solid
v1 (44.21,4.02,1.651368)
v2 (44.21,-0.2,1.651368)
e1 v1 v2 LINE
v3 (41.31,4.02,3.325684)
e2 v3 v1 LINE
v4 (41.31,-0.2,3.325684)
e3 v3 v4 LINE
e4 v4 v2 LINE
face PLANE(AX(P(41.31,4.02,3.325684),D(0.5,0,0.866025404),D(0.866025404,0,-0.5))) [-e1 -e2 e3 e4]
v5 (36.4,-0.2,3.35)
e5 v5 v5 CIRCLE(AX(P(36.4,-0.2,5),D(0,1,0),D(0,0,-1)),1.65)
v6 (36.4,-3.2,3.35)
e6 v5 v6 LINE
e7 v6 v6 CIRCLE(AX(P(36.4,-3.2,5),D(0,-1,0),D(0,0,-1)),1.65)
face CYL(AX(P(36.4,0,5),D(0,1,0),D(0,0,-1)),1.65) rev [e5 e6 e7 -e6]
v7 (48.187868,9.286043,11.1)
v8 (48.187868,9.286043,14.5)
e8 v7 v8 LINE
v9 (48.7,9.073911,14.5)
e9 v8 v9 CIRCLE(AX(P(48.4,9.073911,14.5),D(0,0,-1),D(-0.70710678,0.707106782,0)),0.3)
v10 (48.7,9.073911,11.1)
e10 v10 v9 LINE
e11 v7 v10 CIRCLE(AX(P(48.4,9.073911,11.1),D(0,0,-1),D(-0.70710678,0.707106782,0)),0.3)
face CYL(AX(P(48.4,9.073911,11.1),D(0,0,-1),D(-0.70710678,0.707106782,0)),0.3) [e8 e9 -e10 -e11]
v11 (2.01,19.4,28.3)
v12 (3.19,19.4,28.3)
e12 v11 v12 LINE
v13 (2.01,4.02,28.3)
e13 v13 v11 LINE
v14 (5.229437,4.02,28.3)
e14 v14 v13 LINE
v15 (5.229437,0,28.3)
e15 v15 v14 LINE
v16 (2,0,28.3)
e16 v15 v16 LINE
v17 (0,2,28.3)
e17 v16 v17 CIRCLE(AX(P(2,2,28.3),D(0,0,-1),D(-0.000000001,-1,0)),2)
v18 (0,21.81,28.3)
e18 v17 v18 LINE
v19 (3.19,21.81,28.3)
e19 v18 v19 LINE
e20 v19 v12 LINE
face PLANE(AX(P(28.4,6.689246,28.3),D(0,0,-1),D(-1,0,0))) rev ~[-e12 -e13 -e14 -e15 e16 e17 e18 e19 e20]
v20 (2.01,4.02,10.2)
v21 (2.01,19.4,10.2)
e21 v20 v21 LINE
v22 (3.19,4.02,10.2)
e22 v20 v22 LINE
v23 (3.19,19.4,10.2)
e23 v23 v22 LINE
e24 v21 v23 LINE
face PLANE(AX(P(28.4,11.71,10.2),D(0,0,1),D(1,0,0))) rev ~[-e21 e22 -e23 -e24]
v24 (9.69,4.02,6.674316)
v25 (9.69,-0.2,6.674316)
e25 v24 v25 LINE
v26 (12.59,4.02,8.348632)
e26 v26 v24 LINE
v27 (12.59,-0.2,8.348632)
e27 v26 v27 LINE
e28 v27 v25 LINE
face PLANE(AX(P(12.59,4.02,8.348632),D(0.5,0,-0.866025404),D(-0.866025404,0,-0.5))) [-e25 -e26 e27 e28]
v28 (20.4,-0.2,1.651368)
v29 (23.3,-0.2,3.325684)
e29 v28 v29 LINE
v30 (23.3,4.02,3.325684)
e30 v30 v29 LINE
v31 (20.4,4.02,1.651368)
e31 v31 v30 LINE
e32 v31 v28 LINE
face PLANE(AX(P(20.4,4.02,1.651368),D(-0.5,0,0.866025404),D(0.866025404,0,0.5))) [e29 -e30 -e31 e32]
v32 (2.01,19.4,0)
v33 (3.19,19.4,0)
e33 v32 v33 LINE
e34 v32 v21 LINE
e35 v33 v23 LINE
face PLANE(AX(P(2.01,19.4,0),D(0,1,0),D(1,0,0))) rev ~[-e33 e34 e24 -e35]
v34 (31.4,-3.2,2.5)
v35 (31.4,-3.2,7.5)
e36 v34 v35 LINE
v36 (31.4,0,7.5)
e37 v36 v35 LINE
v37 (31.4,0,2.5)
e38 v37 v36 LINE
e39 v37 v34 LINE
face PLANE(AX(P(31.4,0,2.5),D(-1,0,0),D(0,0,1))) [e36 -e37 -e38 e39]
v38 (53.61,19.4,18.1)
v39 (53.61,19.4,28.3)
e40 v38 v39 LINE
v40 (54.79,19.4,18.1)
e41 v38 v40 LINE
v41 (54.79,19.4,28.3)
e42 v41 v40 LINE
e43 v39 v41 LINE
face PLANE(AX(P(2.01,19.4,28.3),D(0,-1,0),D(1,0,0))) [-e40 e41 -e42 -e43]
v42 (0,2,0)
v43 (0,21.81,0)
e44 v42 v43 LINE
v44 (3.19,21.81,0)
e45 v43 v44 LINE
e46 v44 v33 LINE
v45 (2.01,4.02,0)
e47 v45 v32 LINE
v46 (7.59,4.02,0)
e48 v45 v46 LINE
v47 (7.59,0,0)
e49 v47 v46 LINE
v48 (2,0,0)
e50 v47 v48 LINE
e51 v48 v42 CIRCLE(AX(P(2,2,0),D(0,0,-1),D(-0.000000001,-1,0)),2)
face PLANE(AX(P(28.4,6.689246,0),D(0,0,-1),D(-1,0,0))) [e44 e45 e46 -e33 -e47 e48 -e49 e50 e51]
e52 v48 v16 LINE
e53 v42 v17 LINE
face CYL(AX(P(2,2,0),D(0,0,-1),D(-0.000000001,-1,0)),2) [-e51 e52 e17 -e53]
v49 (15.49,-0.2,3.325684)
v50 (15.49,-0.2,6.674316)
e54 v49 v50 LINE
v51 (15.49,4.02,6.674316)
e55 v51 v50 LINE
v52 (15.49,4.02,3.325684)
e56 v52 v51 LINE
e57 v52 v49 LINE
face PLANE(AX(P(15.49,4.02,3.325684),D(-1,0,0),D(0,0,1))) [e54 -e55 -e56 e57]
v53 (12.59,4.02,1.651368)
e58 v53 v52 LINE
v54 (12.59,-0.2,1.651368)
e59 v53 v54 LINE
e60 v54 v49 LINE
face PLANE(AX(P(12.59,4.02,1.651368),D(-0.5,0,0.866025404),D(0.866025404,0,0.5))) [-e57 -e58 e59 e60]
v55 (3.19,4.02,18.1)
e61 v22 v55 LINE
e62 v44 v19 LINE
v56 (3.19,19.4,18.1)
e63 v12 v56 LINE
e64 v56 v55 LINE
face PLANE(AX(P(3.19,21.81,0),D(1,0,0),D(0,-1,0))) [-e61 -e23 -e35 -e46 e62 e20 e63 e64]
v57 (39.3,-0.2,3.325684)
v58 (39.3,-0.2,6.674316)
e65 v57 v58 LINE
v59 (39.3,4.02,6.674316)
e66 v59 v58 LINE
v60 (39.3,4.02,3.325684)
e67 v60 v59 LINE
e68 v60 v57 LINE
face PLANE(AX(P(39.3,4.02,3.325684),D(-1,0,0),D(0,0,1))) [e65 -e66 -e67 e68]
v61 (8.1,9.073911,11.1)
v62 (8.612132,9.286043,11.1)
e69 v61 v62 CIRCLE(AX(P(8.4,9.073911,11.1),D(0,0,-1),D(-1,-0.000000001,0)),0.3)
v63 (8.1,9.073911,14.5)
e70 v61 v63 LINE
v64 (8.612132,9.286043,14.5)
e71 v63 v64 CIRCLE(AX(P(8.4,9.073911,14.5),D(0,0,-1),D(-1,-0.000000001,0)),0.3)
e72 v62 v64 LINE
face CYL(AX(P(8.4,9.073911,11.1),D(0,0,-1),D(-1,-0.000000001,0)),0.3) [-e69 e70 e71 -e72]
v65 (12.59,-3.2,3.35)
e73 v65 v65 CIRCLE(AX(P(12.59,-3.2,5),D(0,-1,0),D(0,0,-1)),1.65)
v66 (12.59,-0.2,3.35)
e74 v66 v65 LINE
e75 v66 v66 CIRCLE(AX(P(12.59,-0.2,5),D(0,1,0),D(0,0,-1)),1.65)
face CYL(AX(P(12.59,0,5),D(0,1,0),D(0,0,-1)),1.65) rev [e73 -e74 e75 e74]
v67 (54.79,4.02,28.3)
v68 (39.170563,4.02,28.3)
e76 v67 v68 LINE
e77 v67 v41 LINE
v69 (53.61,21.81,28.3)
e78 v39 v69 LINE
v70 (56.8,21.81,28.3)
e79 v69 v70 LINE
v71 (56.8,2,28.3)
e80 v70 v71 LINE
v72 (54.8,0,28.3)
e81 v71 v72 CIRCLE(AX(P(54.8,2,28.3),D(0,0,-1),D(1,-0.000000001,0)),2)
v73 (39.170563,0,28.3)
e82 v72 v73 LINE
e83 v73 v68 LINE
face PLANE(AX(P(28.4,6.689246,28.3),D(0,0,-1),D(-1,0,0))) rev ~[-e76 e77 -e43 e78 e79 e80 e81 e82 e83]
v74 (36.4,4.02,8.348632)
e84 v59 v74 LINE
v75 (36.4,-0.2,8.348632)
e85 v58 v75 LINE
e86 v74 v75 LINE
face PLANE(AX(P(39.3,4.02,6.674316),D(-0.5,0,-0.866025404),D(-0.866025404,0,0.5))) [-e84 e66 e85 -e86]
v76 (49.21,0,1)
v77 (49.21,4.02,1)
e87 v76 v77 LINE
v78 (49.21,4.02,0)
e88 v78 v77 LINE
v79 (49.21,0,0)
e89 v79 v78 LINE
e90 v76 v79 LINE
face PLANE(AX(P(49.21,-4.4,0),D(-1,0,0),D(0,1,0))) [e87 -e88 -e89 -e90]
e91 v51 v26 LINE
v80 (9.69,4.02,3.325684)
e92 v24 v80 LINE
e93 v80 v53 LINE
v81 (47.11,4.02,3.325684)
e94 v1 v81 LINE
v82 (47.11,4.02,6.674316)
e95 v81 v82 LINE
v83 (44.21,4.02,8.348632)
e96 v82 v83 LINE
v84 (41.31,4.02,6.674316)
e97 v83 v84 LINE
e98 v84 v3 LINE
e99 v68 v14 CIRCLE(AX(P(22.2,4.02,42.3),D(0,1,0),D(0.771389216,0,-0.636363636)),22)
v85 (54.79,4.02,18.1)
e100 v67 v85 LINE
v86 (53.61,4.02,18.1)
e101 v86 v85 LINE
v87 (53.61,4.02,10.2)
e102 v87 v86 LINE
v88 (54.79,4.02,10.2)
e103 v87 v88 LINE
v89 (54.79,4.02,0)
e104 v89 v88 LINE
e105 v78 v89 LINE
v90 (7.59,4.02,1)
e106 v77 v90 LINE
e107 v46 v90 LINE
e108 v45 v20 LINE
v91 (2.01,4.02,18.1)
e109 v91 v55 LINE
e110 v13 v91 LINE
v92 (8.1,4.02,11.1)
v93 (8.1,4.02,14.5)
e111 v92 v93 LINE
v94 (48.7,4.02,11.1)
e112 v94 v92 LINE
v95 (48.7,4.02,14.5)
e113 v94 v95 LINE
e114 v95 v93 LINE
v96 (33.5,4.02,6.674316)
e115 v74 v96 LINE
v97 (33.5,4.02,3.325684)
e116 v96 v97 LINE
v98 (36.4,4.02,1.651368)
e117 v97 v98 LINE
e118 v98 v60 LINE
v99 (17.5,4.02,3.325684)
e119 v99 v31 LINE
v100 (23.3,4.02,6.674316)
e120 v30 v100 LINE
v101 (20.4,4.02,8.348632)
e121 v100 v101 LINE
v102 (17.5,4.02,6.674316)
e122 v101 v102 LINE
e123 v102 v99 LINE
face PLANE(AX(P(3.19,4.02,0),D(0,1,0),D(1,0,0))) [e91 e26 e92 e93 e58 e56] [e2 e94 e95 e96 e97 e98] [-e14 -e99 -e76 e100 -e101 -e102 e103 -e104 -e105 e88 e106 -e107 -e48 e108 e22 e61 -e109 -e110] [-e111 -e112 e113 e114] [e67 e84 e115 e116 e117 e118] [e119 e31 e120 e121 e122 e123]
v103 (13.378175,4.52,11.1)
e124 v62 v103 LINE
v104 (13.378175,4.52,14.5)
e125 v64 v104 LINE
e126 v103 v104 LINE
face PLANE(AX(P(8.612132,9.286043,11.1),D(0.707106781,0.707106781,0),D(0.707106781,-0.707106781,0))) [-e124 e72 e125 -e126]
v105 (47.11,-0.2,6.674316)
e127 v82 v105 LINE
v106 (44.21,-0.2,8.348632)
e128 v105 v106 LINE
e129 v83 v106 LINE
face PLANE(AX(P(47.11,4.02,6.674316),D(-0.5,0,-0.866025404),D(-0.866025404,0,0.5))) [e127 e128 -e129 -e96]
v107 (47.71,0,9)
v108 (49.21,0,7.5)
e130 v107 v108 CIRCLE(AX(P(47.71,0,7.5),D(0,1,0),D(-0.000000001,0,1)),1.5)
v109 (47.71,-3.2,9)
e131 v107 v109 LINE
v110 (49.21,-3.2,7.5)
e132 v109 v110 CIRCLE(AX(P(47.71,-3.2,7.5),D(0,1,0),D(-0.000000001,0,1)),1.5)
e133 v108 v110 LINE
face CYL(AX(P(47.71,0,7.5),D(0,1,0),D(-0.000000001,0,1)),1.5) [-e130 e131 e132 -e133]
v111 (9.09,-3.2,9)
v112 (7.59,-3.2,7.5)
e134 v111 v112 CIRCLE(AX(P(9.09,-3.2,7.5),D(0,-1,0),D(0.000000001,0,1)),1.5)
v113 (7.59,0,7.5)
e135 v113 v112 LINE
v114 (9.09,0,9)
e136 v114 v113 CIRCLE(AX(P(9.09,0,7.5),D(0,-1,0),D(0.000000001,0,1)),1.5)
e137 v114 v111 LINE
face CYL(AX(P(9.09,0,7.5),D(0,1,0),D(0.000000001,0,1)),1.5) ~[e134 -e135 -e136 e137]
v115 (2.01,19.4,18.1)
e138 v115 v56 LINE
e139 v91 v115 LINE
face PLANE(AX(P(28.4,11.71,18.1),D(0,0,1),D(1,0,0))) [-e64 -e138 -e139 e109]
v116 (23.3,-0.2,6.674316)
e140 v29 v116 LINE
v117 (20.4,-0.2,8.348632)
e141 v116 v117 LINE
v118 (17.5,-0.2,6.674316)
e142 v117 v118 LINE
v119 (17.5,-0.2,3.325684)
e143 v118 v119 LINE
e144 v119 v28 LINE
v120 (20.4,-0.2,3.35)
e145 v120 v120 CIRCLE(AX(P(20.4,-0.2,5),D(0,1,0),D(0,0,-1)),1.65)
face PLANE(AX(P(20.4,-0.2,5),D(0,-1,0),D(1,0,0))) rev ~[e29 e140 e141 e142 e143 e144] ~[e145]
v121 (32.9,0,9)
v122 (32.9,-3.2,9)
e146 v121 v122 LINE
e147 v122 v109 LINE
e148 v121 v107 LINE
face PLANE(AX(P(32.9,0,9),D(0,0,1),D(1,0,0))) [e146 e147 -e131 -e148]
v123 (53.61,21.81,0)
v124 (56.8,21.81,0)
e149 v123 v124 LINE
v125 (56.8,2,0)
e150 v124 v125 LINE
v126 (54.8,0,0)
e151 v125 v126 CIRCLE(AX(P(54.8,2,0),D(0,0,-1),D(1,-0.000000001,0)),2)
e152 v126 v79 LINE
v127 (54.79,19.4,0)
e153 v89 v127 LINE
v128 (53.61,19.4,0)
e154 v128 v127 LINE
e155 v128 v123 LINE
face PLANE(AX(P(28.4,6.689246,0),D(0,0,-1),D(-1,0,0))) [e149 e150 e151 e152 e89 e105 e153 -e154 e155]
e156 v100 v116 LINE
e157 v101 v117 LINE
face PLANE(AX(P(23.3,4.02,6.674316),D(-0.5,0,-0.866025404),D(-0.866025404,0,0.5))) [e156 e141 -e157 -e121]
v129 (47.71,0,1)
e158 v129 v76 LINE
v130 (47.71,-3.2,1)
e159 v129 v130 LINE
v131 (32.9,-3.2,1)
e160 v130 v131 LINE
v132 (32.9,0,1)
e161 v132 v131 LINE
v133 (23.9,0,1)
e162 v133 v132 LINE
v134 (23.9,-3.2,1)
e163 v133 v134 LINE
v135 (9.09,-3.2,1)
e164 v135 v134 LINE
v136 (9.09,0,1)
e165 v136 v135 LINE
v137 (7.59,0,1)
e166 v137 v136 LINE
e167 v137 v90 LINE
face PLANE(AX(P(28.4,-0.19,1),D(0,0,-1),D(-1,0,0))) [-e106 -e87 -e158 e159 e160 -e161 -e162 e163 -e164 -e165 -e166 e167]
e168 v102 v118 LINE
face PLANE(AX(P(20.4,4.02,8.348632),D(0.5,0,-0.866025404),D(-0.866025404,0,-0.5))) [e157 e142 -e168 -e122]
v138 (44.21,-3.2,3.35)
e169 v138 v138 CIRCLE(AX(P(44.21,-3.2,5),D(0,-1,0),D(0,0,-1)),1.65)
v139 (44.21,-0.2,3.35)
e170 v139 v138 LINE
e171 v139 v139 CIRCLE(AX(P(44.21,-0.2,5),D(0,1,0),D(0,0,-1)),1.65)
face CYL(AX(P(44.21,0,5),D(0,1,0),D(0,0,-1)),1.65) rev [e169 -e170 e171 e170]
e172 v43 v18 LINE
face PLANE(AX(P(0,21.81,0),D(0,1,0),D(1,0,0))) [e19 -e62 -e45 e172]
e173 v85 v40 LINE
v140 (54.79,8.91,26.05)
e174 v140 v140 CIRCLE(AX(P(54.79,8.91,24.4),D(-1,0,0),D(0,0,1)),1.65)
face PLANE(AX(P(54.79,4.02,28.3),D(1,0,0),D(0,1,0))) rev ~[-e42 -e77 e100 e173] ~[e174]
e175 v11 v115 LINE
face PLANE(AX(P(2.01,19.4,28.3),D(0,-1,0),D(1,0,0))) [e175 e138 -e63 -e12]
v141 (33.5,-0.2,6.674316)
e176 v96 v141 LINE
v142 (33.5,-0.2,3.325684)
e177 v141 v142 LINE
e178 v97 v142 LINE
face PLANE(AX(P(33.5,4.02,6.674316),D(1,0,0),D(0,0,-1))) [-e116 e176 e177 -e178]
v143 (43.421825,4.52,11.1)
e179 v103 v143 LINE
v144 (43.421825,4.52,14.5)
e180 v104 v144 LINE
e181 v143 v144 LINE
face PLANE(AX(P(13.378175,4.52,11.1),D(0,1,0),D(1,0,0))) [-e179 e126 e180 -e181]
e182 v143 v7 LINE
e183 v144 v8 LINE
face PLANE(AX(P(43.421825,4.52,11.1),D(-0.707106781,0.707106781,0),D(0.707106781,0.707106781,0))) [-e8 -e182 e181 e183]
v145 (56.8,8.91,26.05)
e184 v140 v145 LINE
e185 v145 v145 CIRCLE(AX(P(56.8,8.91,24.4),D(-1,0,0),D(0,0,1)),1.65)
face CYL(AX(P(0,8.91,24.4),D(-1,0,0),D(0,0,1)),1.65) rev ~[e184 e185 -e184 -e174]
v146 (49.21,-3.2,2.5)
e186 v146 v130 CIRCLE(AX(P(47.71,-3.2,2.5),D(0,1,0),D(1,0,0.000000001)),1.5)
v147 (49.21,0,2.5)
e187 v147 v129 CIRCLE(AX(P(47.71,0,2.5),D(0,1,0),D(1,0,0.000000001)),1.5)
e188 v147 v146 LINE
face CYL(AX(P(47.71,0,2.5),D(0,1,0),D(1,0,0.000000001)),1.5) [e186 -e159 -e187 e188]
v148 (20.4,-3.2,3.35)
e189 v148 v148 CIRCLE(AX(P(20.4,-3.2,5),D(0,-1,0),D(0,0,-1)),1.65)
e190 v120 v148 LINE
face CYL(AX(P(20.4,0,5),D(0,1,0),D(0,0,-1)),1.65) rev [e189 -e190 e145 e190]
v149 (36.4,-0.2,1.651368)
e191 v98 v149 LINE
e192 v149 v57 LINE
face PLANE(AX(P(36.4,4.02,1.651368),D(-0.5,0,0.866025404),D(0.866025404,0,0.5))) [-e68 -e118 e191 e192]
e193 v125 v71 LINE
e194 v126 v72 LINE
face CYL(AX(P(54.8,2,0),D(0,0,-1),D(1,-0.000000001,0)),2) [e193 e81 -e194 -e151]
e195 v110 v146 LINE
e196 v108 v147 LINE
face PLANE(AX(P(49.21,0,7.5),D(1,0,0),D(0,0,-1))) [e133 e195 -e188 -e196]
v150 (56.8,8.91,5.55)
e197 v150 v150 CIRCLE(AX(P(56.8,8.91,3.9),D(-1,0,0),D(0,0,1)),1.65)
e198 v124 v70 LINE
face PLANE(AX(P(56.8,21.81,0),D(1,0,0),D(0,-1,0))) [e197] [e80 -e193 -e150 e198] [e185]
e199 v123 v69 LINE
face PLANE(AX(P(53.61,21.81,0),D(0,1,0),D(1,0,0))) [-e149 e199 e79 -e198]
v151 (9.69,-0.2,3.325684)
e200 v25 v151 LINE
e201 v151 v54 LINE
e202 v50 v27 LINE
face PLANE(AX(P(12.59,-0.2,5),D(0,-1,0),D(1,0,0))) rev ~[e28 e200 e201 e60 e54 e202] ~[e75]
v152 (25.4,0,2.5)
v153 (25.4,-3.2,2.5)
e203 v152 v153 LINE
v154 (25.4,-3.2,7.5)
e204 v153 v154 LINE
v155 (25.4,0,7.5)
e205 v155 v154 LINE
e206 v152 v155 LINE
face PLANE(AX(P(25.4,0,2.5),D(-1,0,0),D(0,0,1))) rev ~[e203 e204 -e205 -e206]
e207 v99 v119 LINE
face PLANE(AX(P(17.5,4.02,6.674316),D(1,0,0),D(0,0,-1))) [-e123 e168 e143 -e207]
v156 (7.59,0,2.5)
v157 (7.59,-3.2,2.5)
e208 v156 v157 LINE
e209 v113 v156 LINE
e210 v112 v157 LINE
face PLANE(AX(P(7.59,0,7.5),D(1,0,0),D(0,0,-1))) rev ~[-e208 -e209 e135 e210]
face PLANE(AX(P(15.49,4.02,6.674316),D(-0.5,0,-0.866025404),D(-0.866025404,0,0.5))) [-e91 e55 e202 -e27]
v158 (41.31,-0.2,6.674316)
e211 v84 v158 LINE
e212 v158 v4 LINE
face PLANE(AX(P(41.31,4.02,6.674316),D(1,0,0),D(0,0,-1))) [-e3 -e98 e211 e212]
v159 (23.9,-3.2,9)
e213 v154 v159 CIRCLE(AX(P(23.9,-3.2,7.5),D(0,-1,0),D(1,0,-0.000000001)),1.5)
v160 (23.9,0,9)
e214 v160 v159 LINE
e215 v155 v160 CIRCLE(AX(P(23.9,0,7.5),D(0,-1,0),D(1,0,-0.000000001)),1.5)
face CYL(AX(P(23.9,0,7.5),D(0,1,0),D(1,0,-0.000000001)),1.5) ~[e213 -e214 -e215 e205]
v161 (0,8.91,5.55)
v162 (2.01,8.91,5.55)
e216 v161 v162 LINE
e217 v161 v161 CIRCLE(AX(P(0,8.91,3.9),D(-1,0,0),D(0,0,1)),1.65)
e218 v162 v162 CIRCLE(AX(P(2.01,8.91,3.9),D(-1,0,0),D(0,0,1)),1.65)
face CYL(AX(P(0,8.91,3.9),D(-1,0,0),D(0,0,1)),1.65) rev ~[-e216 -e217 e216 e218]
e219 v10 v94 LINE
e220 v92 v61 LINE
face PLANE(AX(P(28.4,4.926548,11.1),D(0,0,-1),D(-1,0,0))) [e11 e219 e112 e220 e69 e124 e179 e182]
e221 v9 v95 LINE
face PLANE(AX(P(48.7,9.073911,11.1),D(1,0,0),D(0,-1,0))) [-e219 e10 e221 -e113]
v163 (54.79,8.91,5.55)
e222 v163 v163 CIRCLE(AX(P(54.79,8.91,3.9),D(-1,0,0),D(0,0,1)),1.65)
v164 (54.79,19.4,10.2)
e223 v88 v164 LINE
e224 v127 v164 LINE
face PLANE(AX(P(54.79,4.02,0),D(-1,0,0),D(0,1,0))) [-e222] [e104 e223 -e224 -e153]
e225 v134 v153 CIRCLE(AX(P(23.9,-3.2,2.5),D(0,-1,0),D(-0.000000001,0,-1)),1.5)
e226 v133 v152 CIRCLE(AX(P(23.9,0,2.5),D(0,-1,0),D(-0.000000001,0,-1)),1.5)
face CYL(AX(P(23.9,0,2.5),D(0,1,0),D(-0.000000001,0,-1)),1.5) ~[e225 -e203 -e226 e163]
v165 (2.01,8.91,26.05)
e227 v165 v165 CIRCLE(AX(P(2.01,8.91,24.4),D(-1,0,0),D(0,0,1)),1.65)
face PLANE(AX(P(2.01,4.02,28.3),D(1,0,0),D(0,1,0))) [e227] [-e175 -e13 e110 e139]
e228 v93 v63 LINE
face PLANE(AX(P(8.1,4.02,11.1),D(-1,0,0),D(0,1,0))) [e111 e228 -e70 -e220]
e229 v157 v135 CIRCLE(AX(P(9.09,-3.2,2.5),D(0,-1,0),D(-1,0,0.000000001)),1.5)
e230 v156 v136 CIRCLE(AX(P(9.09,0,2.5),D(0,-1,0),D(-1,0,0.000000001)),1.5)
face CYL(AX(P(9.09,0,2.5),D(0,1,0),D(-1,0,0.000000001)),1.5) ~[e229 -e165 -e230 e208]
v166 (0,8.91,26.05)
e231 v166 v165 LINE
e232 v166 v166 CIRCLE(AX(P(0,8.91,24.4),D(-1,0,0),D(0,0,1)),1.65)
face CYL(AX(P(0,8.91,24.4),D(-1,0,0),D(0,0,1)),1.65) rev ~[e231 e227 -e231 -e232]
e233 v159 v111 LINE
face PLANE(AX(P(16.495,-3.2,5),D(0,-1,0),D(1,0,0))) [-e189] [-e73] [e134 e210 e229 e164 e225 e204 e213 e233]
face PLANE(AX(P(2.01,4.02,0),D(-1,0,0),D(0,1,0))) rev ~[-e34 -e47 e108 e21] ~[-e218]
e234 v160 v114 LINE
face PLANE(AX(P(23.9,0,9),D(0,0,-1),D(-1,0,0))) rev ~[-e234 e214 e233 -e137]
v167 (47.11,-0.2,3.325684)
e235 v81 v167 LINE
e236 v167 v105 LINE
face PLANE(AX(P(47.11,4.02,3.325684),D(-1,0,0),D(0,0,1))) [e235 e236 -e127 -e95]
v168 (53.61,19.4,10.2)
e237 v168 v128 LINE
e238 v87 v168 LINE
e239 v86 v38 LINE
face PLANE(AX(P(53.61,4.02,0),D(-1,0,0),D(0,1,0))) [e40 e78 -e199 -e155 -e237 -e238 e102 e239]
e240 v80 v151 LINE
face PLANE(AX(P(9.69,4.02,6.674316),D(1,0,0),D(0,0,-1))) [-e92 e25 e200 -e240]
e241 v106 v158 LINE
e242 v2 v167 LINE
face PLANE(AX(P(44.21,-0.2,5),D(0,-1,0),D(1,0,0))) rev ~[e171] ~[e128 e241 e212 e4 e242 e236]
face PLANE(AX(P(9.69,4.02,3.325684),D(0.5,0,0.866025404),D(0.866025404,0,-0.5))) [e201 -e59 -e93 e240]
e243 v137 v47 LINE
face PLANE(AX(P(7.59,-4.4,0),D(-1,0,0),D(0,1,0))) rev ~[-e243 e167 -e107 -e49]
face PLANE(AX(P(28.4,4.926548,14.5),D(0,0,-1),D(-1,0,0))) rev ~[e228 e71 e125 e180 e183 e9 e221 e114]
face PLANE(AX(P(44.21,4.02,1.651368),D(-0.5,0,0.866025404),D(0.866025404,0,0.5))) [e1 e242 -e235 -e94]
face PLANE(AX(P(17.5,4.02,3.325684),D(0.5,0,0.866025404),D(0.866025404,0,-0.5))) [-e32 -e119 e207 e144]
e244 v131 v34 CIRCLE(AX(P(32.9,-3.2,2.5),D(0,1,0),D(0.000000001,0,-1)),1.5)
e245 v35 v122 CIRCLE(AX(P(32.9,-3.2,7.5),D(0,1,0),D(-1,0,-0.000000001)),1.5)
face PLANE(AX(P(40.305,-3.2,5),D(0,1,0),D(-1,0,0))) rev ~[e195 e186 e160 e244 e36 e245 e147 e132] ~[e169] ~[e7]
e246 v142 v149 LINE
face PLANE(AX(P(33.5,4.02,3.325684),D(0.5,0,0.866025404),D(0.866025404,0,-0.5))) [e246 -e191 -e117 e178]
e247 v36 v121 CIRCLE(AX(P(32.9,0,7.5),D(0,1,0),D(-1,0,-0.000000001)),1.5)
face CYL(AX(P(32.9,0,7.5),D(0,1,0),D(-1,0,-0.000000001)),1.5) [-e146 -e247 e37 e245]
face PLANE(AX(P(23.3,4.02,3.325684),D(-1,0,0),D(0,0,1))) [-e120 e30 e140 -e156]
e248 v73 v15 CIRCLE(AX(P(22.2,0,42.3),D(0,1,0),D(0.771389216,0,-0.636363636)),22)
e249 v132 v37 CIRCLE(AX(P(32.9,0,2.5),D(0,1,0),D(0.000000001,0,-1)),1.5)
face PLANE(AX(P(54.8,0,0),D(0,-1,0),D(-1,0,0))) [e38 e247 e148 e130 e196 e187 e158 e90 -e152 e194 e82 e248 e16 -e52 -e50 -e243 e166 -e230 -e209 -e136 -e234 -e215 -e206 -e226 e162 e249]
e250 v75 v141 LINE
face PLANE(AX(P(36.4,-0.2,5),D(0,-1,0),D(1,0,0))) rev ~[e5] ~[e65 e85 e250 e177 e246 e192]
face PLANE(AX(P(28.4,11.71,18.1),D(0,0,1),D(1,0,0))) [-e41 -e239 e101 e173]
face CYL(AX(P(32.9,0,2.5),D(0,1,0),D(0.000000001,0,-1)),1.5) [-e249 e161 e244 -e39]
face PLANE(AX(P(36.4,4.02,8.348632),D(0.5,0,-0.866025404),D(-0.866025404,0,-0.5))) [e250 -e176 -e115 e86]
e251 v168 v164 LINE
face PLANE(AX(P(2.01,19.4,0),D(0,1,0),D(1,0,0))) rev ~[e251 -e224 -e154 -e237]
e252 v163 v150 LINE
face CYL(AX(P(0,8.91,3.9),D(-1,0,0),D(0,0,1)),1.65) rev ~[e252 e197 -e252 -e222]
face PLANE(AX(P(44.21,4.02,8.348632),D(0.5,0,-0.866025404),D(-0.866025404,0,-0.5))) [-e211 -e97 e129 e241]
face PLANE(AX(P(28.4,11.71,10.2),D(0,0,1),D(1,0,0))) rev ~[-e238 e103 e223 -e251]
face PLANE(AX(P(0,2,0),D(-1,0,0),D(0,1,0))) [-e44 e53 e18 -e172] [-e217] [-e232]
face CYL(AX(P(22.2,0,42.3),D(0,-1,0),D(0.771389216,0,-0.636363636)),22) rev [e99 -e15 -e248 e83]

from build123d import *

# Parameters (mm, degrees)
BOSS_EXTRUDE1_DEPTH = 28.3
SKETCH2_W           = 52.78
SKETCH2_H           = 15.38
CUT_EXTRUDE1_DEPTH  = 10.2
CUT_EXTRUDE2_START  = 28.3
SKETCH2_2_W         = 52.78
SKETCH2_2_H         = 15.38
CUT_EXTRUDE2_DEPTH  = 10.2
CUT_EXTRUDE3_REACH  = 69.103
SKETCH3_R           = 1.65
BOSS_EXTRUDE2_START = 11.1
BOSS_EXTRUDE2_DEPTH = 3.4
CUT_EXTRUDE4_DEPTH  = 4.02
SKETCH6_R           = 1.65
BOSS_EXTRUDE3_DEPTH = 3.2
CUT_EXTRUDE5_DEPTH  = 4.22
SKETCH10_W          = 41.62
SKETCH10_H          = 8.42
CUT_EXTRUDE6_DEPTH  = 1


with BuildPart() as part:
    # Sketch1 → Boss-Extrude1 (new body)
    with BuildSketch(Plane.XY):
        with BuildLine():
            Line((0, 21.81), (3.19, 21.81))
            Line((3.19, 21.81), (3.19, 4.02))
            Line((3.19, 4.02), (53.61, 4.02))
            Line((53.61, 4.02), (53.61, 21.81))
            Line((53.61, 21.81), (56.8, 21.81))
            Line((56.8, 21.81), (56.8, 2))
            ThreePointArc((56.8, 2), (56.214213562, 0.585786438), (54.8, 0))
            Line((54.8, 0), (2, 0))
            ThreePointArc((2, 0), (0.585786438, 0.585786438), (0, 2))
            Line((0, 2), (0, 21.81))
        make_face()
    extrude(amount=BOSS_EXTRUDE1_DEPTH)

    # Sketch2 → Cut-Extrude1 (cut)
    with BuildSketch(Plane.XY):
        with Locations((28.4, 11.71)):
            Rectangle(SKETCH2_W, SKETCH2_H)
    extrude(amount=CUT_EXTRUDE1_DEPTH, mode=Mode.SUBTRACT)

    # Sketch2<2> → Cut-Extrude2 (cut)
    with BuildSketch(Plane.XY.offset(CUT_EXTRUDE2_START)):
        with Locations((28.4, 11.71)):
            Rectangle(SKETCH2_2_W, SKETCH2_2_H)
    extrude(amount=-CUT_EXTRUDE2_DEPTH, mode=Mode.SUBTRACT)

    # Cut-Extrude3: up to this face of the body (flat: up to its plane)
    cut_extrude3_end = Plane(part.part.faces().sort_by_distance((56.8, 11.905, 14.15))[0])
    # Sketch3 → Cut-Extrude3 (cut, up to the picked face)
    with BuildSketch(Plane.ZY, mode=Mode.PRIVATE) as cut_extrude3_sk1:
        with Locations((3.9, 8.91)):
            Circle(SKETCH3_R)
    cut_extrude3_tool1 = split(extrude(cut_extrude3_sk1.sketch, amount=-CUT_EXTRUDE3_REACH, mode=Mode.PRIVATE), bisect_by=cut_extrude3_end, keep=Keep.BOTH, mode=Mode.PRIVATE)
    # Sketch3 → Cut-Extrude3 (cut, up to the picked face)
    with BuildSketch(Plane.ZY, mode=Mode.PRIVATE) as cut_extrude3_sk2:
        with Locations((24.4, 8.91)):
            Circle(SKETCH3_R)
    cut_extrude3_tool2 = split(extrude(cut_extrude3_sk2.sketch, amount=-CUT_EXTRUDE3_REACH, mode=Mode.PRIVATE), bisect_by=cut_extrude3_end, keep=Keep.BOTH, mode=Mode.PRIVATE)
    add(cut_extrude3_tool1.solids().sort_by(Axis((0, 8.91, 3.9), (1, 0, 0)))[0], mode=Mode.SUBTRACT)
    add(cut_extrude3_tool2.solids().sort_by(Axis((0, 8.91, 24.4), (1, 0, 0)))[0], mode=Mode.SUBTRACT)

    # Sketch4 → Boss-Extrude2 (add)
    with BuildSketch(Plane.XY.offset(BOSS_EXTRUDE2_START)):
        with BuildLine():
            Line((8.612132034, 9.286042559), (13.378174593, 4.52))
            Line((13.378174593, 4.52), (43.421825407, 4.52))
            Line((43.421825407, 4.52), (48.187867966, 9.286042559))
            ThreePointArc((48.187867966, 9.286042559), (48.51480503, 9.351074384), (48.7, 9.073910524))
            Line((48.7, 9.073910524), (48.7, 4.02))
            Line((48.7, 4.02), (8.1, 4.02))
            Line((8.1, 4.02), (8.1, 9.073910524))
            ThreePointArc((8.1, 9.073910524), (8.28519497, 9.351074384), (8.612132034, 9.286042559))
        make_face()
    extrude(amount=BOSS_EXTRUDE2_DEPTH)

    # Sketch5 → Cut-Extrude4 (cut)
    with BuildSketch(Plane.XZ):
        with BuildLine():
            Line((5.229437252, 28.3), (39.170562748, 28.3))
            ThreePointArc((39.170562748, 28.3), (22.2, 20.3), (5.229437252, 28.3))
        make_face()
    extrude(amount=-CUT_EXTRUDE4_DEPTH, mode=Mode.SUBTRACT)

    # Sketch6 → Boss-Extrude3 (add)
    # profile 1 of 2: a face of its own
    with BuildSketch(Plane.XZ):
        with BuildLine():
            Line((9.09, 1), (23.9, 1))
            ThreePointArc((23.9, 1), (24.960660172, 1.439339828), (25.4, 2.5))
            Line((25.4, 2.5), (25.4, 7.5))
            ThreePointArc((25.4, 7.5), (24.960660172, 8.560660172), (23.9, 9))
            Line((23.9, 9), (9.09, 9))
            ThreePointArc((9.09, 9), (8.029339828, 8.560660172), (7.59, 7.5))
            Line((7.59, 7.5), (7.59, 2.5))
            ThreePointArc((7.59, 2.5), (8.029339828, 1.439339828), (9.09, 1))
        make_face()
        with Locations(Location((20.4, 5, 0), (0, 0, 270))):
            Circle(SKETCH6_R, mode=Mode.SUBTRACT)
        with Locations(Location((12.59, 5, 0), (0, 0, 270))):
            Circle(SKETCH6_R, mode=Mode.SUBTRACT)
    # profile 2 of 2: a face of its own
    with BuildSketch(Plane.XZ):
        with BuildLine():
            Line((32.9, 9), (47.71, 9))
            ThreePointArc((47.71, 9), (48.770660172, 8.560660172), (49.21, 7.5))
            Line((49.21, 7.5), (49.21, 2.5))
            ThreePointArc((49.21, 2.5), (48.770660172, 1.439339828), (47.71, 1))
            Line((47.71, 1), (32.9, 1))
            ThreePointArc((32.9, 1), (31.839339828, 1.439339828), (31.4, 2.5))
            Line((31.4, 2.5), (31.4, 7.5))
            ThreePointArc((31.4, 7.5), (31.839339828, 8.560660172), (32.9, 9))
        make_face()
        with Locations(Location((36.4, 5, 0), (0, 0, 270))):
            Circle(SKETCH6_R, mode=Mode.SUBTRACT)
        with Locations(Location((44.21, 5, 0), (0, 0, 270))):
            Circle(SKETCH6_R, mode=Mode.SUBTRACT)
    extrude(amount=BOSS_EXTRUDE3_DEPTH)

    # Sketch8 → Cut-Extrude5 (cut)
    with BuildSketch(Plane.XZ.offset(-4.02)):
        Polygon((23.3, 6.674315781), (20.4, 8.348631561), (17.5, 6.674315781), (17.5, 3.325684219), (20.4, 1.651368439), (23.3, 3.325684219), align=None)
        Polygon((39.3, 6.674315781), (36.4, 8.348631561), (33.5, 6.674315781), (33.5, 3.325684219), (36.4, 1.651368439), (39.3, 3.325684219), align=None)
        Polygon((47.11, 6.674315781), (44.21, 8.348631561), (41.31, 6.674315781), (41.31, 3.325684219), (44.21, 1.651368439), (47.11, 3.325684219), align=None)
        Polygon((15.49, 6.674315781), (12.59, 8.348631561), (9.69, 6.674315781), (9.69, 3.325684219), (12.59, 1.651368439), (15.49, 3.325684219), align=None)
    extrude(amount=CUT_EXTRUDE5_DEPTH, mode=Mode.SUBTRACT)

    # Sketch10 → Cut-Extrude6 (cut)
    with BuildSketch(Plane(origin=(0, 0, 0), x_dir=(-1, 0, 0), z_dir=(0, 0, -1))):
        with Locations((-28.4, -0.19)):
            Rectangle(SKETCH10_W, SKETCH10_H)
    extrude(amount=-CUT_EXTRUDE6_DEPTH, mode=Mode.SUBTRACT)


solid = part.part
